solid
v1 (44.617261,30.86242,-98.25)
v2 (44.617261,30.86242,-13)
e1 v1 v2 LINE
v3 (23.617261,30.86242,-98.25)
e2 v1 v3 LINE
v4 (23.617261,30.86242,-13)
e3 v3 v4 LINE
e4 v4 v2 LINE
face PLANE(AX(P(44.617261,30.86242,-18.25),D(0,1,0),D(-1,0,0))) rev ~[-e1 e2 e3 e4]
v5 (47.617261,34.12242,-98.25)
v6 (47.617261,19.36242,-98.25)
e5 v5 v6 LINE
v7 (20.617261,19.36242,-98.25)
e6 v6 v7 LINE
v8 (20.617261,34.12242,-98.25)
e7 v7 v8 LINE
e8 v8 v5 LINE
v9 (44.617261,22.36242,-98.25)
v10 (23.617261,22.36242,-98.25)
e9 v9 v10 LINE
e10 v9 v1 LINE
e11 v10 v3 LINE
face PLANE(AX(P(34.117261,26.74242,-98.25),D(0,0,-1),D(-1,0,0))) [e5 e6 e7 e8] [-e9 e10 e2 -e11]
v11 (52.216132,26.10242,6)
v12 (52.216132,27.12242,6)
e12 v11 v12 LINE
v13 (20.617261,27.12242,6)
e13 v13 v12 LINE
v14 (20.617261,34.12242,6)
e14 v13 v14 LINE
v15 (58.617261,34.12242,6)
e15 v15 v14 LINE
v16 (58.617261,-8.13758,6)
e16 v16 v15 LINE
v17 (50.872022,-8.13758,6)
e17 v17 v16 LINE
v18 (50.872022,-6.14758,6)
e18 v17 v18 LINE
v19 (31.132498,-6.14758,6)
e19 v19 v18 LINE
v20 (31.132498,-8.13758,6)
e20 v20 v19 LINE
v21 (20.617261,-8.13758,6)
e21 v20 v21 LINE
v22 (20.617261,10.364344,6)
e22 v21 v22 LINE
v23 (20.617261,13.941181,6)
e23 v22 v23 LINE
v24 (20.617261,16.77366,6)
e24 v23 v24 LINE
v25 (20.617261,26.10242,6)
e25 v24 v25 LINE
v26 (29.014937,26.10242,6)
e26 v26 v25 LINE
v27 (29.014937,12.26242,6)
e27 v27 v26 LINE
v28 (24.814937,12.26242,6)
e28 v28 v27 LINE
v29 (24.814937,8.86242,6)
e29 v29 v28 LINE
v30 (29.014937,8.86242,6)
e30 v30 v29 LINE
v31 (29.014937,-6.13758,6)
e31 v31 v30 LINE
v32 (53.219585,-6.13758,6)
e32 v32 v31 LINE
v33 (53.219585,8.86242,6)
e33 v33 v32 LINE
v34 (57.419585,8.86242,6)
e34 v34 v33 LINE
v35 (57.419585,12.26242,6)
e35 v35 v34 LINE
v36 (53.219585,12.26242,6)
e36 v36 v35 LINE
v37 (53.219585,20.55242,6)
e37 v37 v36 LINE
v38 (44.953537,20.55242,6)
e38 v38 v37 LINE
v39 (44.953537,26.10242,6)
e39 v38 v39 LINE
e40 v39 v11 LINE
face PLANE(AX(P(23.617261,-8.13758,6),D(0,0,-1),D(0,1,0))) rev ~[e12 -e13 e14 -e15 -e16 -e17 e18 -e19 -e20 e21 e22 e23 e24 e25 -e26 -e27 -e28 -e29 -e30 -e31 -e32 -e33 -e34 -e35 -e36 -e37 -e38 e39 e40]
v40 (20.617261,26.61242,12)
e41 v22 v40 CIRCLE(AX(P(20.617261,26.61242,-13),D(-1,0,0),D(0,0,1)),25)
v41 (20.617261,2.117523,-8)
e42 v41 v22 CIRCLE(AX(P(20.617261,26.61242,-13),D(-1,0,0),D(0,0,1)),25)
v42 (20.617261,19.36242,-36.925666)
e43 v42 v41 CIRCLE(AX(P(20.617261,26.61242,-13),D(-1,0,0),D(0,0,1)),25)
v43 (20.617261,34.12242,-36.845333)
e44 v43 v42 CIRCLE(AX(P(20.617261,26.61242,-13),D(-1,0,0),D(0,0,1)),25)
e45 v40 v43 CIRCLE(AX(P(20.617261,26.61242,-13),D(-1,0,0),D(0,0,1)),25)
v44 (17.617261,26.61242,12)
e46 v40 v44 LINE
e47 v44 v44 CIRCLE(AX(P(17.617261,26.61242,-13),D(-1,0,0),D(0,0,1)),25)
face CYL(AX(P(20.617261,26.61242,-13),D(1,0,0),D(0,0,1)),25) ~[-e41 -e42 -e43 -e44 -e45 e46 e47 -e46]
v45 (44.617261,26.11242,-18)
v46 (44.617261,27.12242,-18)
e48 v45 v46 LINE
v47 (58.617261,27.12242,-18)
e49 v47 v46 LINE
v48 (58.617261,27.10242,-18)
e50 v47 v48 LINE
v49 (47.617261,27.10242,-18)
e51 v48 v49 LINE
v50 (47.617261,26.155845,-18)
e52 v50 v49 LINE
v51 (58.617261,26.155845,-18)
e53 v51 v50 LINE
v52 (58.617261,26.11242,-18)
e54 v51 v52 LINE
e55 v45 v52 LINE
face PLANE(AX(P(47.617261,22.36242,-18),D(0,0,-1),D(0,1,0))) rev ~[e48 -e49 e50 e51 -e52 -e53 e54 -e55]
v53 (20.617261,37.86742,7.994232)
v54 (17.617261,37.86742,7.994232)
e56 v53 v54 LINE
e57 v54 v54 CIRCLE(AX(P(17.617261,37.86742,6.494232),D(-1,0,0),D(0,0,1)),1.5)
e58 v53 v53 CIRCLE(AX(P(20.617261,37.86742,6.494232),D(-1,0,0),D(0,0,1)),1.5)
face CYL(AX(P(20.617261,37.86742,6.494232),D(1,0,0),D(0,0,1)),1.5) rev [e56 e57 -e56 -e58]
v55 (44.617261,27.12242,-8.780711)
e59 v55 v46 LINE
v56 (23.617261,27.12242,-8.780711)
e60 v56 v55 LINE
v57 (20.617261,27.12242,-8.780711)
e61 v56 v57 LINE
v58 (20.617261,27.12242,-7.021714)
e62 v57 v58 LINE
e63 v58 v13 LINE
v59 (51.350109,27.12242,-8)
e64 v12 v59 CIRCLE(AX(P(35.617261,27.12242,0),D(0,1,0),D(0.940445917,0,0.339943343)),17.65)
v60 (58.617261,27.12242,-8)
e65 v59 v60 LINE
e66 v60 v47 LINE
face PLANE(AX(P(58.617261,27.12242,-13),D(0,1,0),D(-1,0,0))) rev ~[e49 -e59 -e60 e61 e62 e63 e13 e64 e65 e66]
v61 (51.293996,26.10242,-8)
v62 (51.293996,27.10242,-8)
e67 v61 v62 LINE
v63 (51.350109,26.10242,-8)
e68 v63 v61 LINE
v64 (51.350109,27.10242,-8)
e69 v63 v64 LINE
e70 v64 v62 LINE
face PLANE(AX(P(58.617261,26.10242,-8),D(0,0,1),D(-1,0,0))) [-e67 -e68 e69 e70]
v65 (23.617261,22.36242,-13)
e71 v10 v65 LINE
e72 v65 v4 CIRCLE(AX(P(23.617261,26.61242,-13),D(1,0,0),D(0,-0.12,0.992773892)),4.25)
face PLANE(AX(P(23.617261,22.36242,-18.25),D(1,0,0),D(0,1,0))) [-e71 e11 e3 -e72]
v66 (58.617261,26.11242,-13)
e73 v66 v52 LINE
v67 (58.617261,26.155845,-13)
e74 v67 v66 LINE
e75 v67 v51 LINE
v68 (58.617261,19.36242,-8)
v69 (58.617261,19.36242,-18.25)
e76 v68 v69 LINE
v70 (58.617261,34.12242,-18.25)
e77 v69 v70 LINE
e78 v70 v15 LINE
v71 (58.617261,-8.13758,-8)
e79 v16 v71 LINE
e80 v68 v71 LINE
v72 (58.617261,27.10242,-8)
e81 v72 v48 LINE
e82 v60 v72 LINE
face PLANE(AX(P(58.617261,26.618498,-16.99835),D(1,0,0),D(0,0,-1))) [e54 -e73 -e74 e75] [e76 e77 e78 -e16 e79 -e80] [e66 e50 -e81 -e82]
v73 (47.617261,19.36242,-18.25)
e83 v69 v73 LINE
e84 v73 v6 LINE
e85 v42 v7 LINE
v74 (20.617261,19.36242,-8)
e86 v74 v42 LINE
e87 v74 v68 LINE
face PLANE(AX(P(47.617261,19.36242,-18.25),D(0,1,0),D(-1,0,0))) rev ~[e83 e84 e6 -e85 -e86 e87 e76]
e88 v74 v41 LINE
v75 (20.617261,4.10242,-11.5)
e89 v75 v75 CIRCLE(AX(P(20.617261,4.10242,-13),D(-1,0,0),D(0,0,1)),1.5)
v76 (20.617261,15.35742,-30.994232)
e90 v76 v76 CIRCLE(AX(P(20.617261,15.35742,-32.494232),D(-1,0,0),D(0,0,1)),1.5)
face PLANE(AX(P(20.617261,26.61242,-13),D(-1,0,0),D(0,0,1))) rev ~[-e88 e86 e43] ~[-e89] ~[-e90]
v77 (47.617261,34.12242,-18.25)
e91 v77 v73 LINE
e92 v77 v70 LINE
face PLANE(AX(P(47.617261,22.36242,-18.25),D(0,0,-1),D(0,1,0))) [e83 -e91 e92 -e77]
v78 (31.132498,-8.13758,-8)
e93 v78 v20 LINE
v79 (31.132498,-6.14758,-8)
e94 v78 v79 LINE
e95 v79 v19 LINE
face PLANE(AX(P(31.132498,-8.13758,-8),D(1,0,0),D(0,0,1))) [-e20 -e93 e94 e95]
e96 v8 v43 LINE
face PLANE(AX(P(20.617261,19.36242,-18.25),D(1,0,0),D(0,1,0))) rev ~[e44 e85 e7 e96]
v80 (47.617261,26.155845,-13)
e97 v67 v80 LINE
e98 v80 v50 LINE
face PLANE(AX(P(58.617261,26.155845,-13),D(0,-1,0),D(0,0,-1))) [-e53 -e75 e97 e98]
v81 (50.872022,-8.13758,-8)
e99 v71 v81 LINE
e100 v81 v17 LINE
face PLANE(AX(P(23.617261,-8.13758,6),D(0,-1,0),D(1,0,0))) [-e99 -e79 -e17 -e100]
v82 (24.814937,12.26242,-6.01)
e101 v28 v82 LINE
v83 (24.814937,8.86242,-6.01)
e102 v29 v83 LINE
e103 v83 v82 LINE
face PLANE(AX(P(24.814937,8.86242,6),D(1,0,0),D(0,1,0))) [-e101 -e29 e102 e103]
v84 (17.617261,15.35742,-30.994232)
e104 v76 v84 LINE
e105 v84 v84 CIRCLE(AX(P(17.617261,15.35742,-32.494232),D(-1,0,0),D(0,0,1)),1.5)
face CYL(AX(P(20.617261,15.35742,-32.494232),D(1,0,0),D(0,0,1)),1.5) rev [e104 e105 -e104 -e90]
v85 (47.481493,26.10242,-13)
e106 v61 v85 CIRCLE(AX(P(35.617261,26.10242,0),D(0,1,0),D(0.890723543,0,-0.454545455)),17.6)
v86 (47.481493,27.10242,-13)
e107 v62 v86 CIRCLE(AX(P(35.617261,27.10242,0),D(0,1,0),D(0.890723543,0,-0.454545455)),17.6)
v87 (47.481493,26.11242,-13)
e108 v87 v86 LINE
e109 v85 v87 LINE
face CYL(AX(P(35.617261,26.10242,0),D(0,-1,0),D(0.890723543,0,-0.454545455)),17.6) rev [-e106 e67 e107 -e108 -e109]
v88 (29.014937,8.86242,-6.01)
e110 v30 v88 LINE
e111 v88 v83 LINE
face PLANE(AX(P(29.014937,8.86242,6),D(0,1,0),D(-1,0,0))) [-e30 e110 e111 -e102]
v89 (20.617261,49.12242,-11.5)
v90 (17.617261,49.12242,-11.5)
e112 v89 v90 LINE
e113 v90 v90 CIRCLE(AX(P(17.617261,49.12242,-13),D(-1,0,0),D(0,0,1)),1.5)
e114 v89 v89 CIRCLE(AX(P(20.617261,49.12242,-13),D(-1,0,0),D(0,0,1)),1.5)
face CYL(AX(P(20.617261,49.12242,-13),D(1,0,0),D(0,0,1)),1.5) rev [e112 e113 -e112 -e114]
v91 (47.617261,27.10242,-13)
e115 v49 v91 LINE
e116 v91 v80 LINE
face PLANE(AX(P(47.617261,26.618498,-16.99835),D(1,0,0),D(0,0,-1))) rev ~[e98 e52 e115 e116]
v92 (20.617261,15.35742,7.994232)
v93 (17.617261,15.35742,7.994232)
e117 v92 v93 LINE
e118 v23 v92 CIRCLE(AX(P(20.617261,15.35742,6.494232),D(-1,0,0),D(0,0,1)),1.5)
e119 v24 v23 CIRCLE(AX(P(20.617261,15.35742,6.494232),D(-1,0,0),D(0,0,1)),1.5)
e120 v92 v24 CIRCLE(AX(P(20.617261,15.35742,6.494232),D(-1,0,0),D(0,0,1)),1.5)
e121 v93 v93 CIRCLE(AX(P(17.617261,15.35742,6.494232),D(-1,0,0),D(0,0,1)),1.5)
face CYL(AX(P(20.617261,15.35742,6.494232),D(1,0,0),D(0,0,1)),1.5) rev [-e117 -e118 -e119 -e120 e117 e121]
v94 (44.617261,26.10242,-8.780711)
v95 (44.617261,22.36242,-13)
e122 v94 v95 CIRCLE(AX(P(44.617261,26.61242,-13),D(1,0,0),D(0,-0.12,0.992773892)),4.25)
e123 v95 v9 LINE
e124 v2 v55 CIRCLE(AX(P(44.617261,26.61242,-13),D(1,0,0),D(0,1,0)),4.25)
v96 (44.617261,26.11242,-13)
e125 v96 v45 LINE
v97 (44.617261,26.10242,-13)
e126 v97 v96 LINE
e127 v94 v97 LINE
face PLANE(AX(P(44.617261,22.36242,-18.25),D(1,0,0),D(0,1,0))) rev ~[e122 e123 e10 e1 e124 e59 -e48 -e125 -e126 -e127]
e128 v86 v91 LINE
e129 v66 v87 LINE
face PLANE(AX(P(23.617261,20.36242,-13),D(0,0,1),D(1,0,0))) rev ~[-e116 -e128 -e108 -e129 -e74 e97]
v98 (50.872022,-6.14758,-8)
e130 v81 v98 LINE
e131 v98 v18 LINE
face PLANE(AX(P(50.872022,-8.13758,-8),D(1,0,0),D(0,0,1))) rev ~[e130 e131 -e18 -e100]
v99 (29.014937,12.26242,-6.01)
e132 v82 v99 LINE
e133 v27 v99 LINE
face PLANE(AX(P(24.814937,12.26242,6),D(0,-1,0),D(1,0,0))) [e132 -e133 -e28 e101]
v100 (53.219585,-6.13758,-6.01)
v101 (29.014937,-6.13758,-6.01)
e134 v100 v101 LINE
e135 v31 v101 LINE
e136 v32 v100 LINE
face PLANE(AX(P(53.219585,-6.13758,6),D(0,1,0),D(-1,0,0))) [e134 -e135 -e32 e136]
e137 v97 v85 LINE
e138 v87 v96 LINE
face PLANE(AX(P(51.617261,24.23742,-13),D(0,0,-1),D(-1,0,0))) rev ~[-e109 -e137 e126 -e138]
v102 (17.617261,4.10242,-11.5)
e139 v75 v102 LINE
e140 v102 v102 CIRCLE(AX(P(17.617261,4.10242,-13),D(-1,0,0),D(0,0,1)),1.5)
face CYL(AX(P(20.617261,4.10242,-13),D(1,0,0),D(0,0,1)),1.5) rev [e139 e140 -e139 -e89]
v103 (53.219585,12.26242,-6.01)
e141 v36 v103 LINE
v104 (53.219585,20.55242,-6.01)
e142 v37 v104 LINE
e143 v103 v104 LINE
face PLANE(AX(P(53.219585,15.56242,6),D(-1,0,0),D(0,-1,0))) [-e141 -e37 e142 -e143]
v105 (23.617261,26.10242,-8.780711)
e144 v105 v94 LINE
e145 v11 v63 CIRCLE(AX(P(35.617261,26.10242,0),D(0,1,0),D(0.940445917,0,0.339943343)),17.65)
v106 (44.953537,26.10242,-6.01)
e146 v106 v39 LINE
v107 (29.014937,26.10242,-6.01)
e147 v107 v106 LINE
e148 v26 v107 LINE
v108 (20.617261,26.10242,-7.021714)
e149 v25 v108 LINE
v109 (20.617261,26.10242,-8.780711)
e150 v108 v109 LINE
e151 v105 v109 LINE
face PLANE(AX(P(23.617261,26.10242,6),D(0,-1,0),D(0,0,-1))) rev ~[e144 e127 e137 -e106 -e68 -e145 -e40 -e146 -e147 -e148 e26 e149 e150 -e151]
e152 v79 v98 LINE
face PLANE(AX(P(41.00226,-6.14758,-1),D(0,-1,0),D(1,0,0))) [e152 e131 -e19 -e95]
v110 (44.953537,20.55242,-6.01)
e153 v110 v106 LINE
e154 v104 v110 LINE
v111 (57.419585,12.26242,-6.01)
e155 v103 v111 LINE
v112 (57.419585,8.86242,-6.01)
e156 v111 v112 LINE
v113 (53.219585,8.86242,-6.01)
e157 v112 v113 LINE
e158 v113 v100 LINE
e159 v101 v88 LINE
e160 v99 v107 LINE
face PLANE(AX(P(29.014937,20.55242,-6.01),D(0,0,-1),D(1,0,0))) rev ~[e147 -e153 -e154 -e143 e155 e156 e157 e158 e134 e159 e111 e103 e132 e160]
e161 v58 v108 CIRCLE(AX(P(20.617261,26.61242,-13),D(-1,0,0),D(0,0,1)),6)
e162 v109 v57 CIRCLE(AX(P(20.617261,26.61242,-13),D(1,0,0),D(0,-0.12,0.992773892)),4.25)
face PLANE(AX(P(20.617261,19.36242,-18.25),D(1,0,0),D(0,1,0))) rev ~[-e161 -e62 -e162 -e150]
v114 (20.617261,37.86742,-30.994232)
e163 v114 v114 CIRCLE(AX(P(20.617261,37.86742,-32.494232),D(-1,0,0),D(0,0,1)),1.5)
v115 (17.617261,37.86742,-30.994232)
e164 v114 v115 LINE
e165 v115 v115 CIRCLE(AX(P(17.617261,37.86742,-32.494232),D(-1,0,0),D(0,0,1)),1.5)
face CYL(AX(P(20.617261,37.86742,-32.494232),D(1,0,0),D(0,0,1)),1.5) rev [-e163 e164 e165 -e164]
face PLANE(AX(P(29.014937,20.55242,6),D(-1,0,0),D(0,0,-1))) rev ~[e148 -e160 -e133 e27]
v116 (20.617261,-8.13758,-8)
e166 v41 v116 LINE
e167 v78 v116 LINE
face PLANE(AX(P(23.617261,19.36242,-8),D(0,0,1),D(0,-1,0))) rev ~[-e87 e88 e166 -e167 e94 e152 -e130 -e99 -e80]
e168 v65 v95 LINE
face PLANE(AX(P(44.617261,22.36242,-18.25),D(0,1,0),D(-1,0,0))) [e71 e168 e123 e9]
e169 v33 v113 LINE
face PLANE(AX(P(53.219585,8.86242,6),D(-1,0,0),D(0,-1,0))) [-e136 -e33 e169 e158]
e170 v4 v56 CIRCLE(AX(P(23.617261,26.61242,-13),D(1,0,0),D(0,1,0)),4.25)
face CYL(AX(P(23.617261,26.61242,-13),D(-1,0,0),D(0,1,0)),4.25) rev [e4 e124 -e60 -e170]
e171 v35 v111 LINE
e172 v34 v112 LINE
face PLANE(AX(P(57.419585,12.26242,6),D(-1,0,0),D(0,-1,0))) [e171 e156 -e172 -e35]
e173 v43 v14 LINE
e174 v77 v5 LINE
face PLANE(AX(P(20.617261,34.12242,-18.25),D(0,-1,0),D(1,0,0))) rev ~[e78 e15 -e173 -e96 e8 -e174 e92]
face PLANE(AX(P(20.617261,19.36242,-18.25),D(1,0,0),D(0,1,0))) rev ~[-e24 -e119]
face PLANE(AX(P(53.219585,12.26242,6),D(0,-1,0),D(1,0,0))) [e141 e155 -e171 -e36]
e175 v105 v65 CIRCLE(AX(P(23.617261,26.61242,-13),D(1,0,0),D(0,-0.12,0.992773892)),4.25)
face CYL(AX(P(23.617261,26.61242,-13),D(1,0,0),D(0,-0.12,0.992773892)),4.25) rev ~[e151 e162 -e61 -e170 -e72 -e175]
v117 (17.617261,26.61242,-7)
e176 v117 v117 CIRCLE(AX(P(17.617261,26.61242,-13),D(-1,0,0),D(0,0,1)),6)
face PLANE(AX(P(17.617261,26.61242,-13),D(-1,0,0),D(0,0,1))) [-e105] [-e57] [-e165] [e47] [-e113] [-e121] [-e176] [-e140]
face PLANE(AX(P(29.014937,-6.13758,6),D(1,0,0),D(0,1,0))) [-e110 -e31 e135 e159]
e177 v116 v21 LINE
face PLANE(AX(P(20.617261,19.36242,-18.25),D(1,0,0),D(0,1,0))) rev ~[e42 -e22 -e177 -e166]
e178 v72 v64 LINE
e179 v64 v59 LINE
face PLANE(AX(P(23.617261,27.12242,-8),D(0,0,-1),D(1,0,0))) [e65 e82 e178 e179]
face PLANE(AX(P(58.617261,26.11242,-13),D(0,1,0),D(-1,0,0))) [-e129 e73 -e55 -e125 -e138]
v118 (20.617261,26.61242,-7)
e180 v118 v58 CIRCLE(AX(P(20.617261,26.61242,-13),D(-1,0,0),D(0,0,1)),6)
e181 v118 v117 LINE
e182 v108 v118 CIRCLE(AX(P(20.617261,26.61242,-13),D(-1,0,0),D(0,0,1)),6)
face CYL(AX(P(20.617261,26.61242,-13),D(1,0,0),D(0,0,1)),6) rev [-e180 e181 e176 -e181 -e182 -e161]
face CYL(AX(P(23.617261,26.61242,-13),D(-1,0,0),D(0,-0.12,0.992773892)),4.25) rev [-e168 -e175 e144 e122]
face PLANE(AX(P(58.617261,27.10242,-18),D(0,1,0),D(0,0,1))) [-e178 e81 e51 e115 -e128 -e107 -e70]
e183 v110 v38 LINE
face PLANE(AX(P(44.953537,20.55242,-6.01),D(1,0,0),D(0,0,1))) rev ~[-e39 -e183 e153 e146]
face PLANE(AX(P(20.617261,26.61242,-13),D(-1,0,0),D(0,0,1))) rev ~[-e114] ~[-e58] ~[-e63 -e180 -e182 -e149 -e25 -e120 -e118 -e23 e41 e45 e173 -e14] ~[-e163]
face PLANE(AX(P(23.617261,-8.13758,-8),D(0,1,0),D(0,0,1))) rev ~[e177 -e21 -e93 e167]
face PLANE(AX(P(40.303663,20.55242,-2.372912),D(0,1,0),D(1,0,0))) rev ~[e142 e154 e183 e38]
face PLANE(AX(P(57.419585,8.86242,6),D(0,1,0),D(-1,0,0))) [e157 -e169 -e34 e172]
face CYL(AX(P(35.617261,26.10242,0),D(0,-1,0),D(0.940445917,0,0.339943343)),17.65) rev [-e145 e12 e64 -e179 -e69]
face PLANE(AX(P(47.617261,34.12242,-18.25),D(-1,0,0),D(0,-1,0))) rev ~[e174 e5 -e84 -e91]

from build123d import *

# Parameters (mm, degrees)
EXTRUDE_1_DEPTH     = 14
SKETCH_3_W          = 34.989164417
SKETCH_3_H          = 23.7
EXTRUDE_2_DEPTH     = 1.99
SKETCH_4_W          = 19.73952378
SKETCH_4_H          = 14
CUT_EXTRUDE_1_DEPTH = 1.99
EXTRUDE_3_DEPTH     = 4.99
EXTRUDE_4_DEPTH     = 5.55
EXTRUDE_5_DEPTH     = 1.02
SKETCH_13_W         = 35
SKETCH_13_H         = 14
EXTRUDE_6_DEPTH     = 4
EXTRUDE_8_DEPTH     = 21
SKETCH_15_W         = 5
SKETCH_15_H         = 5.74
SKETCH_15_H_2       = 4
EXTRUDE_9_DEPTH     = 14
EXTRUDE_10_DEPTH    = 1
SKETCH_17_W         = 35
SKETCH_17_H         = 19
EXTRUDE_11_DEPTH    = 3
SKETCH_18_W         = 35
SKETCH_18_H         = 5
EXTRUDE_12_DEPTH    = 1
EXTRUDE_16_DEPTH    = 3
SKETCH_20_W         = 5.25
SKETCH_20_H         = 3.26
SKETCH_20_H_2       = 3
EXTRUDE_18_DEPTH    = 35
SKETCH_21_W         = 14
SKETCH_21_H         = 3.74
SKETCH_21_H_2       = 3.75
EXTRUDE_19_DEPTH    = 5
EXTRUDE_20_DEPTH    = 11
SKETCH_26_W         = 0.25
SKETCH_26_H         = 8.5
EXTRUDE_21_DEPTH    = 3
SKETCH_27_W         = 21
SKETCH_27_H         = 8.5
EXTRUDE_22_DEPTH    = 80
SKETCH_28_R         = 25
SKETCH_28_R_2       = 6
SKETCH_28_R_3       = 1.5
EXTRUDE_23_DEPTH    = 3


with BuildPart() as part:
    # 草图2 → 凸台-拉伸1 (new body)
    with BuildSketch(Plane.XY.offset(6)):
        Polygon((58.617261146, 15.562420382), (53.219585402, 15.562420382), (53.219585402, 12.262420382), (57.419585402, 12.262420382), (57.419585402, 8.862420382), (53.219585402, 8.862420382), (53.219585402, -6.137579618), (29.014936891, -6.137579618), (29.014936891, 8.862420382), (24.814936891, 8.862420382), (24.814936891, 12.262420382), (29.014936891, 12.262420382), (29.014936891, 15.562420382), (23.617261146, 15.562420382), (23.617261146, -8.137579618), (58.617261146, -8.137579618), align=None)
    extrude(amount=-EXTRUDE_1_DEPTH)

    # 草图3 → 凸台-拉伸2 (add)
    with BuildSketch(Plane(origin=(0, 0, -8), x_dir=(-1, 0, 0), z_dir=(0, 0, -1))):
        with Locations((-41.122678938, 3.712420382)):
            Rectangle(SKETCH_3_W, SKETCH_3_H)
    extrude(amount=-EXTRUDE_2_DEPTH)

    # 草图4 → 切除-拉伸1 (cut)
    with BuildSketch(Plane.XZ.offset(8.137579618)):
        with Locations((41.002259963, -1)):
            Rectangle(SKETCH_4_W, SKETCH_4_H)
    extrude(amount=-CUT_EXTRUDE_1_DEPTH, mode=Mode.SUBTRACT)

    # 草图7 → 凸台-拉伸3 (add)
    with BuildSketch(Plane(origin=(0, 15.562420382, 0), x_dir=(1, 0, 0), z_dir=(0, 1, 0))):
        Polygon((29.014936891, -6), (23.617261146, -6), (23.617261146, 8), (58.617261146, 8), (58.617261146, -6), (53.219585402, -6), (53.219585402, 6.01), (29.014936891, 6.01), align=None)
    extrude(amount=EXTRUDE_3_DEPTH)

    # 草图8 → 凸台-拉伸4 (add)
    with BuildSketch(Plane(origin=(0, 20.552420382, 0), x_dir=(1, 0, 0), z_dir=(0, 1, 0))):
        Polygon((23.617261146, -6), (29.014936891, -6), (29.014936891, 6.01), (44.953536614, 6.01), (44.953536614, -6), (58.617261146, -6), (58.617261146, 8), (23.617261146, 8), align=None)
    extrude(amount=EXTRUDE_4_DEPTH)

    # 草图11 → 凸台-拉伸5 (add)
    with BuildSketch(Plane(origin=(0, 26.102420382, 0), x_dir=(1, 0, 0), z_dir=(0, 1, 0))):
        with BuildLine():
            Line((51.35010895, 8), (58.617261146, 8))
            Line((58.617261146, 8), (58.617261146, -6))
            Line((58.617261146, -6), (52.21613159, -6))
            ThreePointArc((52.21613159, -6), (53.233588834, 1.089724187), (51.35010895, 8))
        make_face()
    extrude(amount=EXTRUDE_5_DEPTH)

    # 草图13 → 凸台-拉伸6 (add)
    with BuildSketch(Plane(origin=(0, 27.122420382, 0), x_dir=(1, 0, 0), z_dir=(0, 1, 0))):
        with Locations((41.117261146, 1)):
            Rectangle(SKETCH_13_W, SKETCH_13_H)
    extrude(amount=EXTRUDE_6_DEPTH)

    # 草图14 → 凸台-拉伸8 (add)
    with BuildSketch(Plane.ZY.offset(-23.617261146)):
        with BuildLine():
            Line((-8.78071096, 27.122420382), (-8, 27.122420382))
            Line((-8, 27.122420382), (-8, 31.122420382))
            Line((-8, 31.122420382), (-13, 31.122420382))
            Line((-13, 31.122420382), (-13, 30.862420382))
            ThreePointArc((-13, 30.862420382), (-10.180868928, 29.792829161), (-8.78071096, 27.122420382))
        make_face()
        with BuildLine():
            Line((-8, 26.102420382), (-8.78071096, 26.102420382))
            ThreePointArc((-8.78071096, 26.102420382), (-10.180868928, 23.432011603), (-13, 22.362420382))
            Line((-13, 22.362420382), (-13, 20.362420382))
            Line((-13, 20.362420382), (-8, 20.362420382))
            Line((-8, 20.362420382), (-8, 26.102420382))
        make_face()
    extrude(amount=-EXTRUDE_8_DEPTH)

    # 草图15 → 凸台-拉伸9 (add)
    with BuildSketch(Plane(origin=(44.617261146, 0, 0), x_dir=(0, 0, -1), z_dir=(1, 0, 0))):
        with Locations((10.5, 23.232420382)):
            Rectangle(SKETCH_15_W, SKETCH_15_H)
        with Locations((10.5, 29.122420382)):
            Rectangle(SKETCH_15_W, SKETCH_15_H_2)
    extrude(amount=EXTRUDE_9_DEPTH)

    # 草图16 → 凸台-拉伸10 (add)
    with BuildSketch(Plane(origin=(0, 26.102420382, 0), x_dir=(1, 0, 0), z_dir=(0, 1, 0))):
        with BuildLine():
            Line((47.481493106, 13), (58.617261146, 13))
            Line((58.617261146, 13), (58.617261146, 8))
            Line((58.617261146, 8), (51.2939955, 8))
            ThreePointArc((51.2939955, 8), (49.612839247, 10.671635002), (47.481493106, 13))
        make_face()
    extrude(amount=EXTRUDE_10_DEPTH)

    # 草图17 → 凸台-拉伸11 (add)
    with BuildSketch(Plane(origin=(0, 31.122420382, 0), x_dir=(1, 0, 0), z_dir=(0, 1, 0))):
        with Locations((41.117261146, 3.5)):
            Rectangle(SKETCH_17_W, SKETCH_17_H)
    extrude(amount=EXTRUDE_11_DEPTH)

    # 草图18 → 凸台-拉伸12 (add)
    with BuildSketch(Plane.XZ.offset(-20.362420382)):
        with Locations((41.117261146, -10.5)):
            Rectangle(SKETCH_18_W, SKETCH_18_H)
    extrude(amount=EXTRUDE_12_DEPTH)

    # 草图19 → 凸台-拉伸16 (add)
    with BuildSketch(Plane.ZY.offset(-23.617261146)):
        with BuildLine():
            Line((-8, 19.362420382), (-8, -8.137579618))
            Line((-8, -8.137579618), (6, -8.137579618))
            Line((6, -8.137579618), (6, 26.102420382))
            Line((6, 26.102420382), (-8.78071096, 26.102420382))
            ThreePointArc((-8.78071096, 26.102420382), (-17.25, 26.612420382), (-8.78071096, 27.122420382))
            Line((-8.78071096, 27.122420382), (6, 27.122420382))
            Line((6, 27.122420382), (6, 34.122420382))
            Line((6, 34.122420382), (-18.25, 34.122420382))
            Line((-18.25, 34.122420382), (-18.25, 19.362420382))
            Line((-18.25, 19.362420382), (-8, 19.362420382))
        make_face()
    extrude(amount=EXTRUDE_16_DEPTH)

    # 草图20 → 凸台-拉伸18 (add)
    with BuildSketch(Plane(origin=(23.617261146, 0, 0), x_dir=(0, 0, -1), z_dir=(1, 0, 0))):
        with Locations((15.625, 32.492420382)):
            Rectangle(SKETCH_20_W, SKETCH_20_H)
        with Locations((15.625, 20.862420382)):
            Rectangle(SKETCH_20_W, SKETCH_20_H_2)
    extrude(amount=EXTRUDE_18_DEPTH)

    # 草图21 → 凸台-拉伸19 (add)
    with BuildSketch(Plane(origin=(0, 0, -13), x_dir=(-1, 0, 0), z_dir=(0, 0, -1))):
        with Locations((-51.617261146, 28.992420382)):
            Rectangle(SKETCH_21_W, SKETCH_21_H)
        with Locations((-51.617261146, 24.237420382)):
            Rectangle(SKETCH_21_W, SKETCH_21_H_2)
    extrude(amount=EXTRUDE_19_DEPTH)

    # 草图22 → 凸台-拉伸20 (add)
    with BuildSketch(Plane(origin=(58.617261146, 0, 0), x_dir=(0, 0, -1), z_dir=(1, 0, 0))):
        Polygon((18, 27.102420382), (13, 27.102420382), (13, 26.155844896), (18, 26.155844896), (18, 22.362420382), (18.25, 22.362420382), (18.25, 30.862420382), (18, 30.862420382), align=None)
    extrude(amount=-EXTRUDE_20_DEPTH)

    # 草图26 → 凸台-拉伸21 (add)
    with BuildSketch(Plane.ZY.offset(-47.617261146)):
        with Locations((-18.125, 26.612420382)):
            Rectangle(SKETCH_26_W, SKETCH_26_H)
    extrude(amount=EXTRUDE_21_DEPTH)

    # 草图27 → 凸台-拉伸22 (add)
    with BuildSketch(Plane(origin=(0, 0, -18.25), x_dir=(-1, 0, 0), z_dir=(0, 0, -1))):
        Polygon((-47.617261146, 34.122420382), (-47.617261146, 30.862420382), (-47.617261146, 19.362420382), (-20.617261146, 19.362420382), (-20.617261146, 34.122420382), align=None)
        with Locations((-34.117261146, 26.612420382)):
            Rectangle(SKETCH_27_W, SKETCH_27_H, mode=Mode.SUBTRACT)
    extrude(amount=EXTRUDE_22_DEPTH)

    # 草图28 → 凸台-拉伸23 (add)
    with BuildSketch(Plane.ZY.offset(-20.617261146)):
        with Locations((-13, 26.612420382)):
            Circle(SKETCH_28_R)
        with Locations((-13, 26.612420382)):
            Circle(SKETCH_28_R_2, mode=Mode.SUBTRACT)
        with Locations((-13, 4.102420382)):
            Circle(SKETCH_28_R_3, mode=Mode.SUBTRACT)
        with Locations((-32.494231839, 15.357420382)):
            Circle(SKETCH_28_R_3, mode=Mode.SUBTRACT)
        with Locations((-32.494231839, 37.867420382)):
            Circle(SKETCH_28_R_3, mode=Mode.SUBTRACT)
        with Locations((-13, 49.122420382)):
            Circle(SKETCH_28_R_3, mode=Mode.SUBTRACT)
        with Locations((6.494231839, 37.867420382)):
            Circle(SKETCH_28_R_3, mode=Mode.SUBTRACT)
        with Locations((6.494231839, 15.357420382)):
            Circle(SKETCH_28_R_3, mode=Mode.SUBTRACT)
    extrude(amount=EXTRUDE_23_DEPTH)


solid = part.part
